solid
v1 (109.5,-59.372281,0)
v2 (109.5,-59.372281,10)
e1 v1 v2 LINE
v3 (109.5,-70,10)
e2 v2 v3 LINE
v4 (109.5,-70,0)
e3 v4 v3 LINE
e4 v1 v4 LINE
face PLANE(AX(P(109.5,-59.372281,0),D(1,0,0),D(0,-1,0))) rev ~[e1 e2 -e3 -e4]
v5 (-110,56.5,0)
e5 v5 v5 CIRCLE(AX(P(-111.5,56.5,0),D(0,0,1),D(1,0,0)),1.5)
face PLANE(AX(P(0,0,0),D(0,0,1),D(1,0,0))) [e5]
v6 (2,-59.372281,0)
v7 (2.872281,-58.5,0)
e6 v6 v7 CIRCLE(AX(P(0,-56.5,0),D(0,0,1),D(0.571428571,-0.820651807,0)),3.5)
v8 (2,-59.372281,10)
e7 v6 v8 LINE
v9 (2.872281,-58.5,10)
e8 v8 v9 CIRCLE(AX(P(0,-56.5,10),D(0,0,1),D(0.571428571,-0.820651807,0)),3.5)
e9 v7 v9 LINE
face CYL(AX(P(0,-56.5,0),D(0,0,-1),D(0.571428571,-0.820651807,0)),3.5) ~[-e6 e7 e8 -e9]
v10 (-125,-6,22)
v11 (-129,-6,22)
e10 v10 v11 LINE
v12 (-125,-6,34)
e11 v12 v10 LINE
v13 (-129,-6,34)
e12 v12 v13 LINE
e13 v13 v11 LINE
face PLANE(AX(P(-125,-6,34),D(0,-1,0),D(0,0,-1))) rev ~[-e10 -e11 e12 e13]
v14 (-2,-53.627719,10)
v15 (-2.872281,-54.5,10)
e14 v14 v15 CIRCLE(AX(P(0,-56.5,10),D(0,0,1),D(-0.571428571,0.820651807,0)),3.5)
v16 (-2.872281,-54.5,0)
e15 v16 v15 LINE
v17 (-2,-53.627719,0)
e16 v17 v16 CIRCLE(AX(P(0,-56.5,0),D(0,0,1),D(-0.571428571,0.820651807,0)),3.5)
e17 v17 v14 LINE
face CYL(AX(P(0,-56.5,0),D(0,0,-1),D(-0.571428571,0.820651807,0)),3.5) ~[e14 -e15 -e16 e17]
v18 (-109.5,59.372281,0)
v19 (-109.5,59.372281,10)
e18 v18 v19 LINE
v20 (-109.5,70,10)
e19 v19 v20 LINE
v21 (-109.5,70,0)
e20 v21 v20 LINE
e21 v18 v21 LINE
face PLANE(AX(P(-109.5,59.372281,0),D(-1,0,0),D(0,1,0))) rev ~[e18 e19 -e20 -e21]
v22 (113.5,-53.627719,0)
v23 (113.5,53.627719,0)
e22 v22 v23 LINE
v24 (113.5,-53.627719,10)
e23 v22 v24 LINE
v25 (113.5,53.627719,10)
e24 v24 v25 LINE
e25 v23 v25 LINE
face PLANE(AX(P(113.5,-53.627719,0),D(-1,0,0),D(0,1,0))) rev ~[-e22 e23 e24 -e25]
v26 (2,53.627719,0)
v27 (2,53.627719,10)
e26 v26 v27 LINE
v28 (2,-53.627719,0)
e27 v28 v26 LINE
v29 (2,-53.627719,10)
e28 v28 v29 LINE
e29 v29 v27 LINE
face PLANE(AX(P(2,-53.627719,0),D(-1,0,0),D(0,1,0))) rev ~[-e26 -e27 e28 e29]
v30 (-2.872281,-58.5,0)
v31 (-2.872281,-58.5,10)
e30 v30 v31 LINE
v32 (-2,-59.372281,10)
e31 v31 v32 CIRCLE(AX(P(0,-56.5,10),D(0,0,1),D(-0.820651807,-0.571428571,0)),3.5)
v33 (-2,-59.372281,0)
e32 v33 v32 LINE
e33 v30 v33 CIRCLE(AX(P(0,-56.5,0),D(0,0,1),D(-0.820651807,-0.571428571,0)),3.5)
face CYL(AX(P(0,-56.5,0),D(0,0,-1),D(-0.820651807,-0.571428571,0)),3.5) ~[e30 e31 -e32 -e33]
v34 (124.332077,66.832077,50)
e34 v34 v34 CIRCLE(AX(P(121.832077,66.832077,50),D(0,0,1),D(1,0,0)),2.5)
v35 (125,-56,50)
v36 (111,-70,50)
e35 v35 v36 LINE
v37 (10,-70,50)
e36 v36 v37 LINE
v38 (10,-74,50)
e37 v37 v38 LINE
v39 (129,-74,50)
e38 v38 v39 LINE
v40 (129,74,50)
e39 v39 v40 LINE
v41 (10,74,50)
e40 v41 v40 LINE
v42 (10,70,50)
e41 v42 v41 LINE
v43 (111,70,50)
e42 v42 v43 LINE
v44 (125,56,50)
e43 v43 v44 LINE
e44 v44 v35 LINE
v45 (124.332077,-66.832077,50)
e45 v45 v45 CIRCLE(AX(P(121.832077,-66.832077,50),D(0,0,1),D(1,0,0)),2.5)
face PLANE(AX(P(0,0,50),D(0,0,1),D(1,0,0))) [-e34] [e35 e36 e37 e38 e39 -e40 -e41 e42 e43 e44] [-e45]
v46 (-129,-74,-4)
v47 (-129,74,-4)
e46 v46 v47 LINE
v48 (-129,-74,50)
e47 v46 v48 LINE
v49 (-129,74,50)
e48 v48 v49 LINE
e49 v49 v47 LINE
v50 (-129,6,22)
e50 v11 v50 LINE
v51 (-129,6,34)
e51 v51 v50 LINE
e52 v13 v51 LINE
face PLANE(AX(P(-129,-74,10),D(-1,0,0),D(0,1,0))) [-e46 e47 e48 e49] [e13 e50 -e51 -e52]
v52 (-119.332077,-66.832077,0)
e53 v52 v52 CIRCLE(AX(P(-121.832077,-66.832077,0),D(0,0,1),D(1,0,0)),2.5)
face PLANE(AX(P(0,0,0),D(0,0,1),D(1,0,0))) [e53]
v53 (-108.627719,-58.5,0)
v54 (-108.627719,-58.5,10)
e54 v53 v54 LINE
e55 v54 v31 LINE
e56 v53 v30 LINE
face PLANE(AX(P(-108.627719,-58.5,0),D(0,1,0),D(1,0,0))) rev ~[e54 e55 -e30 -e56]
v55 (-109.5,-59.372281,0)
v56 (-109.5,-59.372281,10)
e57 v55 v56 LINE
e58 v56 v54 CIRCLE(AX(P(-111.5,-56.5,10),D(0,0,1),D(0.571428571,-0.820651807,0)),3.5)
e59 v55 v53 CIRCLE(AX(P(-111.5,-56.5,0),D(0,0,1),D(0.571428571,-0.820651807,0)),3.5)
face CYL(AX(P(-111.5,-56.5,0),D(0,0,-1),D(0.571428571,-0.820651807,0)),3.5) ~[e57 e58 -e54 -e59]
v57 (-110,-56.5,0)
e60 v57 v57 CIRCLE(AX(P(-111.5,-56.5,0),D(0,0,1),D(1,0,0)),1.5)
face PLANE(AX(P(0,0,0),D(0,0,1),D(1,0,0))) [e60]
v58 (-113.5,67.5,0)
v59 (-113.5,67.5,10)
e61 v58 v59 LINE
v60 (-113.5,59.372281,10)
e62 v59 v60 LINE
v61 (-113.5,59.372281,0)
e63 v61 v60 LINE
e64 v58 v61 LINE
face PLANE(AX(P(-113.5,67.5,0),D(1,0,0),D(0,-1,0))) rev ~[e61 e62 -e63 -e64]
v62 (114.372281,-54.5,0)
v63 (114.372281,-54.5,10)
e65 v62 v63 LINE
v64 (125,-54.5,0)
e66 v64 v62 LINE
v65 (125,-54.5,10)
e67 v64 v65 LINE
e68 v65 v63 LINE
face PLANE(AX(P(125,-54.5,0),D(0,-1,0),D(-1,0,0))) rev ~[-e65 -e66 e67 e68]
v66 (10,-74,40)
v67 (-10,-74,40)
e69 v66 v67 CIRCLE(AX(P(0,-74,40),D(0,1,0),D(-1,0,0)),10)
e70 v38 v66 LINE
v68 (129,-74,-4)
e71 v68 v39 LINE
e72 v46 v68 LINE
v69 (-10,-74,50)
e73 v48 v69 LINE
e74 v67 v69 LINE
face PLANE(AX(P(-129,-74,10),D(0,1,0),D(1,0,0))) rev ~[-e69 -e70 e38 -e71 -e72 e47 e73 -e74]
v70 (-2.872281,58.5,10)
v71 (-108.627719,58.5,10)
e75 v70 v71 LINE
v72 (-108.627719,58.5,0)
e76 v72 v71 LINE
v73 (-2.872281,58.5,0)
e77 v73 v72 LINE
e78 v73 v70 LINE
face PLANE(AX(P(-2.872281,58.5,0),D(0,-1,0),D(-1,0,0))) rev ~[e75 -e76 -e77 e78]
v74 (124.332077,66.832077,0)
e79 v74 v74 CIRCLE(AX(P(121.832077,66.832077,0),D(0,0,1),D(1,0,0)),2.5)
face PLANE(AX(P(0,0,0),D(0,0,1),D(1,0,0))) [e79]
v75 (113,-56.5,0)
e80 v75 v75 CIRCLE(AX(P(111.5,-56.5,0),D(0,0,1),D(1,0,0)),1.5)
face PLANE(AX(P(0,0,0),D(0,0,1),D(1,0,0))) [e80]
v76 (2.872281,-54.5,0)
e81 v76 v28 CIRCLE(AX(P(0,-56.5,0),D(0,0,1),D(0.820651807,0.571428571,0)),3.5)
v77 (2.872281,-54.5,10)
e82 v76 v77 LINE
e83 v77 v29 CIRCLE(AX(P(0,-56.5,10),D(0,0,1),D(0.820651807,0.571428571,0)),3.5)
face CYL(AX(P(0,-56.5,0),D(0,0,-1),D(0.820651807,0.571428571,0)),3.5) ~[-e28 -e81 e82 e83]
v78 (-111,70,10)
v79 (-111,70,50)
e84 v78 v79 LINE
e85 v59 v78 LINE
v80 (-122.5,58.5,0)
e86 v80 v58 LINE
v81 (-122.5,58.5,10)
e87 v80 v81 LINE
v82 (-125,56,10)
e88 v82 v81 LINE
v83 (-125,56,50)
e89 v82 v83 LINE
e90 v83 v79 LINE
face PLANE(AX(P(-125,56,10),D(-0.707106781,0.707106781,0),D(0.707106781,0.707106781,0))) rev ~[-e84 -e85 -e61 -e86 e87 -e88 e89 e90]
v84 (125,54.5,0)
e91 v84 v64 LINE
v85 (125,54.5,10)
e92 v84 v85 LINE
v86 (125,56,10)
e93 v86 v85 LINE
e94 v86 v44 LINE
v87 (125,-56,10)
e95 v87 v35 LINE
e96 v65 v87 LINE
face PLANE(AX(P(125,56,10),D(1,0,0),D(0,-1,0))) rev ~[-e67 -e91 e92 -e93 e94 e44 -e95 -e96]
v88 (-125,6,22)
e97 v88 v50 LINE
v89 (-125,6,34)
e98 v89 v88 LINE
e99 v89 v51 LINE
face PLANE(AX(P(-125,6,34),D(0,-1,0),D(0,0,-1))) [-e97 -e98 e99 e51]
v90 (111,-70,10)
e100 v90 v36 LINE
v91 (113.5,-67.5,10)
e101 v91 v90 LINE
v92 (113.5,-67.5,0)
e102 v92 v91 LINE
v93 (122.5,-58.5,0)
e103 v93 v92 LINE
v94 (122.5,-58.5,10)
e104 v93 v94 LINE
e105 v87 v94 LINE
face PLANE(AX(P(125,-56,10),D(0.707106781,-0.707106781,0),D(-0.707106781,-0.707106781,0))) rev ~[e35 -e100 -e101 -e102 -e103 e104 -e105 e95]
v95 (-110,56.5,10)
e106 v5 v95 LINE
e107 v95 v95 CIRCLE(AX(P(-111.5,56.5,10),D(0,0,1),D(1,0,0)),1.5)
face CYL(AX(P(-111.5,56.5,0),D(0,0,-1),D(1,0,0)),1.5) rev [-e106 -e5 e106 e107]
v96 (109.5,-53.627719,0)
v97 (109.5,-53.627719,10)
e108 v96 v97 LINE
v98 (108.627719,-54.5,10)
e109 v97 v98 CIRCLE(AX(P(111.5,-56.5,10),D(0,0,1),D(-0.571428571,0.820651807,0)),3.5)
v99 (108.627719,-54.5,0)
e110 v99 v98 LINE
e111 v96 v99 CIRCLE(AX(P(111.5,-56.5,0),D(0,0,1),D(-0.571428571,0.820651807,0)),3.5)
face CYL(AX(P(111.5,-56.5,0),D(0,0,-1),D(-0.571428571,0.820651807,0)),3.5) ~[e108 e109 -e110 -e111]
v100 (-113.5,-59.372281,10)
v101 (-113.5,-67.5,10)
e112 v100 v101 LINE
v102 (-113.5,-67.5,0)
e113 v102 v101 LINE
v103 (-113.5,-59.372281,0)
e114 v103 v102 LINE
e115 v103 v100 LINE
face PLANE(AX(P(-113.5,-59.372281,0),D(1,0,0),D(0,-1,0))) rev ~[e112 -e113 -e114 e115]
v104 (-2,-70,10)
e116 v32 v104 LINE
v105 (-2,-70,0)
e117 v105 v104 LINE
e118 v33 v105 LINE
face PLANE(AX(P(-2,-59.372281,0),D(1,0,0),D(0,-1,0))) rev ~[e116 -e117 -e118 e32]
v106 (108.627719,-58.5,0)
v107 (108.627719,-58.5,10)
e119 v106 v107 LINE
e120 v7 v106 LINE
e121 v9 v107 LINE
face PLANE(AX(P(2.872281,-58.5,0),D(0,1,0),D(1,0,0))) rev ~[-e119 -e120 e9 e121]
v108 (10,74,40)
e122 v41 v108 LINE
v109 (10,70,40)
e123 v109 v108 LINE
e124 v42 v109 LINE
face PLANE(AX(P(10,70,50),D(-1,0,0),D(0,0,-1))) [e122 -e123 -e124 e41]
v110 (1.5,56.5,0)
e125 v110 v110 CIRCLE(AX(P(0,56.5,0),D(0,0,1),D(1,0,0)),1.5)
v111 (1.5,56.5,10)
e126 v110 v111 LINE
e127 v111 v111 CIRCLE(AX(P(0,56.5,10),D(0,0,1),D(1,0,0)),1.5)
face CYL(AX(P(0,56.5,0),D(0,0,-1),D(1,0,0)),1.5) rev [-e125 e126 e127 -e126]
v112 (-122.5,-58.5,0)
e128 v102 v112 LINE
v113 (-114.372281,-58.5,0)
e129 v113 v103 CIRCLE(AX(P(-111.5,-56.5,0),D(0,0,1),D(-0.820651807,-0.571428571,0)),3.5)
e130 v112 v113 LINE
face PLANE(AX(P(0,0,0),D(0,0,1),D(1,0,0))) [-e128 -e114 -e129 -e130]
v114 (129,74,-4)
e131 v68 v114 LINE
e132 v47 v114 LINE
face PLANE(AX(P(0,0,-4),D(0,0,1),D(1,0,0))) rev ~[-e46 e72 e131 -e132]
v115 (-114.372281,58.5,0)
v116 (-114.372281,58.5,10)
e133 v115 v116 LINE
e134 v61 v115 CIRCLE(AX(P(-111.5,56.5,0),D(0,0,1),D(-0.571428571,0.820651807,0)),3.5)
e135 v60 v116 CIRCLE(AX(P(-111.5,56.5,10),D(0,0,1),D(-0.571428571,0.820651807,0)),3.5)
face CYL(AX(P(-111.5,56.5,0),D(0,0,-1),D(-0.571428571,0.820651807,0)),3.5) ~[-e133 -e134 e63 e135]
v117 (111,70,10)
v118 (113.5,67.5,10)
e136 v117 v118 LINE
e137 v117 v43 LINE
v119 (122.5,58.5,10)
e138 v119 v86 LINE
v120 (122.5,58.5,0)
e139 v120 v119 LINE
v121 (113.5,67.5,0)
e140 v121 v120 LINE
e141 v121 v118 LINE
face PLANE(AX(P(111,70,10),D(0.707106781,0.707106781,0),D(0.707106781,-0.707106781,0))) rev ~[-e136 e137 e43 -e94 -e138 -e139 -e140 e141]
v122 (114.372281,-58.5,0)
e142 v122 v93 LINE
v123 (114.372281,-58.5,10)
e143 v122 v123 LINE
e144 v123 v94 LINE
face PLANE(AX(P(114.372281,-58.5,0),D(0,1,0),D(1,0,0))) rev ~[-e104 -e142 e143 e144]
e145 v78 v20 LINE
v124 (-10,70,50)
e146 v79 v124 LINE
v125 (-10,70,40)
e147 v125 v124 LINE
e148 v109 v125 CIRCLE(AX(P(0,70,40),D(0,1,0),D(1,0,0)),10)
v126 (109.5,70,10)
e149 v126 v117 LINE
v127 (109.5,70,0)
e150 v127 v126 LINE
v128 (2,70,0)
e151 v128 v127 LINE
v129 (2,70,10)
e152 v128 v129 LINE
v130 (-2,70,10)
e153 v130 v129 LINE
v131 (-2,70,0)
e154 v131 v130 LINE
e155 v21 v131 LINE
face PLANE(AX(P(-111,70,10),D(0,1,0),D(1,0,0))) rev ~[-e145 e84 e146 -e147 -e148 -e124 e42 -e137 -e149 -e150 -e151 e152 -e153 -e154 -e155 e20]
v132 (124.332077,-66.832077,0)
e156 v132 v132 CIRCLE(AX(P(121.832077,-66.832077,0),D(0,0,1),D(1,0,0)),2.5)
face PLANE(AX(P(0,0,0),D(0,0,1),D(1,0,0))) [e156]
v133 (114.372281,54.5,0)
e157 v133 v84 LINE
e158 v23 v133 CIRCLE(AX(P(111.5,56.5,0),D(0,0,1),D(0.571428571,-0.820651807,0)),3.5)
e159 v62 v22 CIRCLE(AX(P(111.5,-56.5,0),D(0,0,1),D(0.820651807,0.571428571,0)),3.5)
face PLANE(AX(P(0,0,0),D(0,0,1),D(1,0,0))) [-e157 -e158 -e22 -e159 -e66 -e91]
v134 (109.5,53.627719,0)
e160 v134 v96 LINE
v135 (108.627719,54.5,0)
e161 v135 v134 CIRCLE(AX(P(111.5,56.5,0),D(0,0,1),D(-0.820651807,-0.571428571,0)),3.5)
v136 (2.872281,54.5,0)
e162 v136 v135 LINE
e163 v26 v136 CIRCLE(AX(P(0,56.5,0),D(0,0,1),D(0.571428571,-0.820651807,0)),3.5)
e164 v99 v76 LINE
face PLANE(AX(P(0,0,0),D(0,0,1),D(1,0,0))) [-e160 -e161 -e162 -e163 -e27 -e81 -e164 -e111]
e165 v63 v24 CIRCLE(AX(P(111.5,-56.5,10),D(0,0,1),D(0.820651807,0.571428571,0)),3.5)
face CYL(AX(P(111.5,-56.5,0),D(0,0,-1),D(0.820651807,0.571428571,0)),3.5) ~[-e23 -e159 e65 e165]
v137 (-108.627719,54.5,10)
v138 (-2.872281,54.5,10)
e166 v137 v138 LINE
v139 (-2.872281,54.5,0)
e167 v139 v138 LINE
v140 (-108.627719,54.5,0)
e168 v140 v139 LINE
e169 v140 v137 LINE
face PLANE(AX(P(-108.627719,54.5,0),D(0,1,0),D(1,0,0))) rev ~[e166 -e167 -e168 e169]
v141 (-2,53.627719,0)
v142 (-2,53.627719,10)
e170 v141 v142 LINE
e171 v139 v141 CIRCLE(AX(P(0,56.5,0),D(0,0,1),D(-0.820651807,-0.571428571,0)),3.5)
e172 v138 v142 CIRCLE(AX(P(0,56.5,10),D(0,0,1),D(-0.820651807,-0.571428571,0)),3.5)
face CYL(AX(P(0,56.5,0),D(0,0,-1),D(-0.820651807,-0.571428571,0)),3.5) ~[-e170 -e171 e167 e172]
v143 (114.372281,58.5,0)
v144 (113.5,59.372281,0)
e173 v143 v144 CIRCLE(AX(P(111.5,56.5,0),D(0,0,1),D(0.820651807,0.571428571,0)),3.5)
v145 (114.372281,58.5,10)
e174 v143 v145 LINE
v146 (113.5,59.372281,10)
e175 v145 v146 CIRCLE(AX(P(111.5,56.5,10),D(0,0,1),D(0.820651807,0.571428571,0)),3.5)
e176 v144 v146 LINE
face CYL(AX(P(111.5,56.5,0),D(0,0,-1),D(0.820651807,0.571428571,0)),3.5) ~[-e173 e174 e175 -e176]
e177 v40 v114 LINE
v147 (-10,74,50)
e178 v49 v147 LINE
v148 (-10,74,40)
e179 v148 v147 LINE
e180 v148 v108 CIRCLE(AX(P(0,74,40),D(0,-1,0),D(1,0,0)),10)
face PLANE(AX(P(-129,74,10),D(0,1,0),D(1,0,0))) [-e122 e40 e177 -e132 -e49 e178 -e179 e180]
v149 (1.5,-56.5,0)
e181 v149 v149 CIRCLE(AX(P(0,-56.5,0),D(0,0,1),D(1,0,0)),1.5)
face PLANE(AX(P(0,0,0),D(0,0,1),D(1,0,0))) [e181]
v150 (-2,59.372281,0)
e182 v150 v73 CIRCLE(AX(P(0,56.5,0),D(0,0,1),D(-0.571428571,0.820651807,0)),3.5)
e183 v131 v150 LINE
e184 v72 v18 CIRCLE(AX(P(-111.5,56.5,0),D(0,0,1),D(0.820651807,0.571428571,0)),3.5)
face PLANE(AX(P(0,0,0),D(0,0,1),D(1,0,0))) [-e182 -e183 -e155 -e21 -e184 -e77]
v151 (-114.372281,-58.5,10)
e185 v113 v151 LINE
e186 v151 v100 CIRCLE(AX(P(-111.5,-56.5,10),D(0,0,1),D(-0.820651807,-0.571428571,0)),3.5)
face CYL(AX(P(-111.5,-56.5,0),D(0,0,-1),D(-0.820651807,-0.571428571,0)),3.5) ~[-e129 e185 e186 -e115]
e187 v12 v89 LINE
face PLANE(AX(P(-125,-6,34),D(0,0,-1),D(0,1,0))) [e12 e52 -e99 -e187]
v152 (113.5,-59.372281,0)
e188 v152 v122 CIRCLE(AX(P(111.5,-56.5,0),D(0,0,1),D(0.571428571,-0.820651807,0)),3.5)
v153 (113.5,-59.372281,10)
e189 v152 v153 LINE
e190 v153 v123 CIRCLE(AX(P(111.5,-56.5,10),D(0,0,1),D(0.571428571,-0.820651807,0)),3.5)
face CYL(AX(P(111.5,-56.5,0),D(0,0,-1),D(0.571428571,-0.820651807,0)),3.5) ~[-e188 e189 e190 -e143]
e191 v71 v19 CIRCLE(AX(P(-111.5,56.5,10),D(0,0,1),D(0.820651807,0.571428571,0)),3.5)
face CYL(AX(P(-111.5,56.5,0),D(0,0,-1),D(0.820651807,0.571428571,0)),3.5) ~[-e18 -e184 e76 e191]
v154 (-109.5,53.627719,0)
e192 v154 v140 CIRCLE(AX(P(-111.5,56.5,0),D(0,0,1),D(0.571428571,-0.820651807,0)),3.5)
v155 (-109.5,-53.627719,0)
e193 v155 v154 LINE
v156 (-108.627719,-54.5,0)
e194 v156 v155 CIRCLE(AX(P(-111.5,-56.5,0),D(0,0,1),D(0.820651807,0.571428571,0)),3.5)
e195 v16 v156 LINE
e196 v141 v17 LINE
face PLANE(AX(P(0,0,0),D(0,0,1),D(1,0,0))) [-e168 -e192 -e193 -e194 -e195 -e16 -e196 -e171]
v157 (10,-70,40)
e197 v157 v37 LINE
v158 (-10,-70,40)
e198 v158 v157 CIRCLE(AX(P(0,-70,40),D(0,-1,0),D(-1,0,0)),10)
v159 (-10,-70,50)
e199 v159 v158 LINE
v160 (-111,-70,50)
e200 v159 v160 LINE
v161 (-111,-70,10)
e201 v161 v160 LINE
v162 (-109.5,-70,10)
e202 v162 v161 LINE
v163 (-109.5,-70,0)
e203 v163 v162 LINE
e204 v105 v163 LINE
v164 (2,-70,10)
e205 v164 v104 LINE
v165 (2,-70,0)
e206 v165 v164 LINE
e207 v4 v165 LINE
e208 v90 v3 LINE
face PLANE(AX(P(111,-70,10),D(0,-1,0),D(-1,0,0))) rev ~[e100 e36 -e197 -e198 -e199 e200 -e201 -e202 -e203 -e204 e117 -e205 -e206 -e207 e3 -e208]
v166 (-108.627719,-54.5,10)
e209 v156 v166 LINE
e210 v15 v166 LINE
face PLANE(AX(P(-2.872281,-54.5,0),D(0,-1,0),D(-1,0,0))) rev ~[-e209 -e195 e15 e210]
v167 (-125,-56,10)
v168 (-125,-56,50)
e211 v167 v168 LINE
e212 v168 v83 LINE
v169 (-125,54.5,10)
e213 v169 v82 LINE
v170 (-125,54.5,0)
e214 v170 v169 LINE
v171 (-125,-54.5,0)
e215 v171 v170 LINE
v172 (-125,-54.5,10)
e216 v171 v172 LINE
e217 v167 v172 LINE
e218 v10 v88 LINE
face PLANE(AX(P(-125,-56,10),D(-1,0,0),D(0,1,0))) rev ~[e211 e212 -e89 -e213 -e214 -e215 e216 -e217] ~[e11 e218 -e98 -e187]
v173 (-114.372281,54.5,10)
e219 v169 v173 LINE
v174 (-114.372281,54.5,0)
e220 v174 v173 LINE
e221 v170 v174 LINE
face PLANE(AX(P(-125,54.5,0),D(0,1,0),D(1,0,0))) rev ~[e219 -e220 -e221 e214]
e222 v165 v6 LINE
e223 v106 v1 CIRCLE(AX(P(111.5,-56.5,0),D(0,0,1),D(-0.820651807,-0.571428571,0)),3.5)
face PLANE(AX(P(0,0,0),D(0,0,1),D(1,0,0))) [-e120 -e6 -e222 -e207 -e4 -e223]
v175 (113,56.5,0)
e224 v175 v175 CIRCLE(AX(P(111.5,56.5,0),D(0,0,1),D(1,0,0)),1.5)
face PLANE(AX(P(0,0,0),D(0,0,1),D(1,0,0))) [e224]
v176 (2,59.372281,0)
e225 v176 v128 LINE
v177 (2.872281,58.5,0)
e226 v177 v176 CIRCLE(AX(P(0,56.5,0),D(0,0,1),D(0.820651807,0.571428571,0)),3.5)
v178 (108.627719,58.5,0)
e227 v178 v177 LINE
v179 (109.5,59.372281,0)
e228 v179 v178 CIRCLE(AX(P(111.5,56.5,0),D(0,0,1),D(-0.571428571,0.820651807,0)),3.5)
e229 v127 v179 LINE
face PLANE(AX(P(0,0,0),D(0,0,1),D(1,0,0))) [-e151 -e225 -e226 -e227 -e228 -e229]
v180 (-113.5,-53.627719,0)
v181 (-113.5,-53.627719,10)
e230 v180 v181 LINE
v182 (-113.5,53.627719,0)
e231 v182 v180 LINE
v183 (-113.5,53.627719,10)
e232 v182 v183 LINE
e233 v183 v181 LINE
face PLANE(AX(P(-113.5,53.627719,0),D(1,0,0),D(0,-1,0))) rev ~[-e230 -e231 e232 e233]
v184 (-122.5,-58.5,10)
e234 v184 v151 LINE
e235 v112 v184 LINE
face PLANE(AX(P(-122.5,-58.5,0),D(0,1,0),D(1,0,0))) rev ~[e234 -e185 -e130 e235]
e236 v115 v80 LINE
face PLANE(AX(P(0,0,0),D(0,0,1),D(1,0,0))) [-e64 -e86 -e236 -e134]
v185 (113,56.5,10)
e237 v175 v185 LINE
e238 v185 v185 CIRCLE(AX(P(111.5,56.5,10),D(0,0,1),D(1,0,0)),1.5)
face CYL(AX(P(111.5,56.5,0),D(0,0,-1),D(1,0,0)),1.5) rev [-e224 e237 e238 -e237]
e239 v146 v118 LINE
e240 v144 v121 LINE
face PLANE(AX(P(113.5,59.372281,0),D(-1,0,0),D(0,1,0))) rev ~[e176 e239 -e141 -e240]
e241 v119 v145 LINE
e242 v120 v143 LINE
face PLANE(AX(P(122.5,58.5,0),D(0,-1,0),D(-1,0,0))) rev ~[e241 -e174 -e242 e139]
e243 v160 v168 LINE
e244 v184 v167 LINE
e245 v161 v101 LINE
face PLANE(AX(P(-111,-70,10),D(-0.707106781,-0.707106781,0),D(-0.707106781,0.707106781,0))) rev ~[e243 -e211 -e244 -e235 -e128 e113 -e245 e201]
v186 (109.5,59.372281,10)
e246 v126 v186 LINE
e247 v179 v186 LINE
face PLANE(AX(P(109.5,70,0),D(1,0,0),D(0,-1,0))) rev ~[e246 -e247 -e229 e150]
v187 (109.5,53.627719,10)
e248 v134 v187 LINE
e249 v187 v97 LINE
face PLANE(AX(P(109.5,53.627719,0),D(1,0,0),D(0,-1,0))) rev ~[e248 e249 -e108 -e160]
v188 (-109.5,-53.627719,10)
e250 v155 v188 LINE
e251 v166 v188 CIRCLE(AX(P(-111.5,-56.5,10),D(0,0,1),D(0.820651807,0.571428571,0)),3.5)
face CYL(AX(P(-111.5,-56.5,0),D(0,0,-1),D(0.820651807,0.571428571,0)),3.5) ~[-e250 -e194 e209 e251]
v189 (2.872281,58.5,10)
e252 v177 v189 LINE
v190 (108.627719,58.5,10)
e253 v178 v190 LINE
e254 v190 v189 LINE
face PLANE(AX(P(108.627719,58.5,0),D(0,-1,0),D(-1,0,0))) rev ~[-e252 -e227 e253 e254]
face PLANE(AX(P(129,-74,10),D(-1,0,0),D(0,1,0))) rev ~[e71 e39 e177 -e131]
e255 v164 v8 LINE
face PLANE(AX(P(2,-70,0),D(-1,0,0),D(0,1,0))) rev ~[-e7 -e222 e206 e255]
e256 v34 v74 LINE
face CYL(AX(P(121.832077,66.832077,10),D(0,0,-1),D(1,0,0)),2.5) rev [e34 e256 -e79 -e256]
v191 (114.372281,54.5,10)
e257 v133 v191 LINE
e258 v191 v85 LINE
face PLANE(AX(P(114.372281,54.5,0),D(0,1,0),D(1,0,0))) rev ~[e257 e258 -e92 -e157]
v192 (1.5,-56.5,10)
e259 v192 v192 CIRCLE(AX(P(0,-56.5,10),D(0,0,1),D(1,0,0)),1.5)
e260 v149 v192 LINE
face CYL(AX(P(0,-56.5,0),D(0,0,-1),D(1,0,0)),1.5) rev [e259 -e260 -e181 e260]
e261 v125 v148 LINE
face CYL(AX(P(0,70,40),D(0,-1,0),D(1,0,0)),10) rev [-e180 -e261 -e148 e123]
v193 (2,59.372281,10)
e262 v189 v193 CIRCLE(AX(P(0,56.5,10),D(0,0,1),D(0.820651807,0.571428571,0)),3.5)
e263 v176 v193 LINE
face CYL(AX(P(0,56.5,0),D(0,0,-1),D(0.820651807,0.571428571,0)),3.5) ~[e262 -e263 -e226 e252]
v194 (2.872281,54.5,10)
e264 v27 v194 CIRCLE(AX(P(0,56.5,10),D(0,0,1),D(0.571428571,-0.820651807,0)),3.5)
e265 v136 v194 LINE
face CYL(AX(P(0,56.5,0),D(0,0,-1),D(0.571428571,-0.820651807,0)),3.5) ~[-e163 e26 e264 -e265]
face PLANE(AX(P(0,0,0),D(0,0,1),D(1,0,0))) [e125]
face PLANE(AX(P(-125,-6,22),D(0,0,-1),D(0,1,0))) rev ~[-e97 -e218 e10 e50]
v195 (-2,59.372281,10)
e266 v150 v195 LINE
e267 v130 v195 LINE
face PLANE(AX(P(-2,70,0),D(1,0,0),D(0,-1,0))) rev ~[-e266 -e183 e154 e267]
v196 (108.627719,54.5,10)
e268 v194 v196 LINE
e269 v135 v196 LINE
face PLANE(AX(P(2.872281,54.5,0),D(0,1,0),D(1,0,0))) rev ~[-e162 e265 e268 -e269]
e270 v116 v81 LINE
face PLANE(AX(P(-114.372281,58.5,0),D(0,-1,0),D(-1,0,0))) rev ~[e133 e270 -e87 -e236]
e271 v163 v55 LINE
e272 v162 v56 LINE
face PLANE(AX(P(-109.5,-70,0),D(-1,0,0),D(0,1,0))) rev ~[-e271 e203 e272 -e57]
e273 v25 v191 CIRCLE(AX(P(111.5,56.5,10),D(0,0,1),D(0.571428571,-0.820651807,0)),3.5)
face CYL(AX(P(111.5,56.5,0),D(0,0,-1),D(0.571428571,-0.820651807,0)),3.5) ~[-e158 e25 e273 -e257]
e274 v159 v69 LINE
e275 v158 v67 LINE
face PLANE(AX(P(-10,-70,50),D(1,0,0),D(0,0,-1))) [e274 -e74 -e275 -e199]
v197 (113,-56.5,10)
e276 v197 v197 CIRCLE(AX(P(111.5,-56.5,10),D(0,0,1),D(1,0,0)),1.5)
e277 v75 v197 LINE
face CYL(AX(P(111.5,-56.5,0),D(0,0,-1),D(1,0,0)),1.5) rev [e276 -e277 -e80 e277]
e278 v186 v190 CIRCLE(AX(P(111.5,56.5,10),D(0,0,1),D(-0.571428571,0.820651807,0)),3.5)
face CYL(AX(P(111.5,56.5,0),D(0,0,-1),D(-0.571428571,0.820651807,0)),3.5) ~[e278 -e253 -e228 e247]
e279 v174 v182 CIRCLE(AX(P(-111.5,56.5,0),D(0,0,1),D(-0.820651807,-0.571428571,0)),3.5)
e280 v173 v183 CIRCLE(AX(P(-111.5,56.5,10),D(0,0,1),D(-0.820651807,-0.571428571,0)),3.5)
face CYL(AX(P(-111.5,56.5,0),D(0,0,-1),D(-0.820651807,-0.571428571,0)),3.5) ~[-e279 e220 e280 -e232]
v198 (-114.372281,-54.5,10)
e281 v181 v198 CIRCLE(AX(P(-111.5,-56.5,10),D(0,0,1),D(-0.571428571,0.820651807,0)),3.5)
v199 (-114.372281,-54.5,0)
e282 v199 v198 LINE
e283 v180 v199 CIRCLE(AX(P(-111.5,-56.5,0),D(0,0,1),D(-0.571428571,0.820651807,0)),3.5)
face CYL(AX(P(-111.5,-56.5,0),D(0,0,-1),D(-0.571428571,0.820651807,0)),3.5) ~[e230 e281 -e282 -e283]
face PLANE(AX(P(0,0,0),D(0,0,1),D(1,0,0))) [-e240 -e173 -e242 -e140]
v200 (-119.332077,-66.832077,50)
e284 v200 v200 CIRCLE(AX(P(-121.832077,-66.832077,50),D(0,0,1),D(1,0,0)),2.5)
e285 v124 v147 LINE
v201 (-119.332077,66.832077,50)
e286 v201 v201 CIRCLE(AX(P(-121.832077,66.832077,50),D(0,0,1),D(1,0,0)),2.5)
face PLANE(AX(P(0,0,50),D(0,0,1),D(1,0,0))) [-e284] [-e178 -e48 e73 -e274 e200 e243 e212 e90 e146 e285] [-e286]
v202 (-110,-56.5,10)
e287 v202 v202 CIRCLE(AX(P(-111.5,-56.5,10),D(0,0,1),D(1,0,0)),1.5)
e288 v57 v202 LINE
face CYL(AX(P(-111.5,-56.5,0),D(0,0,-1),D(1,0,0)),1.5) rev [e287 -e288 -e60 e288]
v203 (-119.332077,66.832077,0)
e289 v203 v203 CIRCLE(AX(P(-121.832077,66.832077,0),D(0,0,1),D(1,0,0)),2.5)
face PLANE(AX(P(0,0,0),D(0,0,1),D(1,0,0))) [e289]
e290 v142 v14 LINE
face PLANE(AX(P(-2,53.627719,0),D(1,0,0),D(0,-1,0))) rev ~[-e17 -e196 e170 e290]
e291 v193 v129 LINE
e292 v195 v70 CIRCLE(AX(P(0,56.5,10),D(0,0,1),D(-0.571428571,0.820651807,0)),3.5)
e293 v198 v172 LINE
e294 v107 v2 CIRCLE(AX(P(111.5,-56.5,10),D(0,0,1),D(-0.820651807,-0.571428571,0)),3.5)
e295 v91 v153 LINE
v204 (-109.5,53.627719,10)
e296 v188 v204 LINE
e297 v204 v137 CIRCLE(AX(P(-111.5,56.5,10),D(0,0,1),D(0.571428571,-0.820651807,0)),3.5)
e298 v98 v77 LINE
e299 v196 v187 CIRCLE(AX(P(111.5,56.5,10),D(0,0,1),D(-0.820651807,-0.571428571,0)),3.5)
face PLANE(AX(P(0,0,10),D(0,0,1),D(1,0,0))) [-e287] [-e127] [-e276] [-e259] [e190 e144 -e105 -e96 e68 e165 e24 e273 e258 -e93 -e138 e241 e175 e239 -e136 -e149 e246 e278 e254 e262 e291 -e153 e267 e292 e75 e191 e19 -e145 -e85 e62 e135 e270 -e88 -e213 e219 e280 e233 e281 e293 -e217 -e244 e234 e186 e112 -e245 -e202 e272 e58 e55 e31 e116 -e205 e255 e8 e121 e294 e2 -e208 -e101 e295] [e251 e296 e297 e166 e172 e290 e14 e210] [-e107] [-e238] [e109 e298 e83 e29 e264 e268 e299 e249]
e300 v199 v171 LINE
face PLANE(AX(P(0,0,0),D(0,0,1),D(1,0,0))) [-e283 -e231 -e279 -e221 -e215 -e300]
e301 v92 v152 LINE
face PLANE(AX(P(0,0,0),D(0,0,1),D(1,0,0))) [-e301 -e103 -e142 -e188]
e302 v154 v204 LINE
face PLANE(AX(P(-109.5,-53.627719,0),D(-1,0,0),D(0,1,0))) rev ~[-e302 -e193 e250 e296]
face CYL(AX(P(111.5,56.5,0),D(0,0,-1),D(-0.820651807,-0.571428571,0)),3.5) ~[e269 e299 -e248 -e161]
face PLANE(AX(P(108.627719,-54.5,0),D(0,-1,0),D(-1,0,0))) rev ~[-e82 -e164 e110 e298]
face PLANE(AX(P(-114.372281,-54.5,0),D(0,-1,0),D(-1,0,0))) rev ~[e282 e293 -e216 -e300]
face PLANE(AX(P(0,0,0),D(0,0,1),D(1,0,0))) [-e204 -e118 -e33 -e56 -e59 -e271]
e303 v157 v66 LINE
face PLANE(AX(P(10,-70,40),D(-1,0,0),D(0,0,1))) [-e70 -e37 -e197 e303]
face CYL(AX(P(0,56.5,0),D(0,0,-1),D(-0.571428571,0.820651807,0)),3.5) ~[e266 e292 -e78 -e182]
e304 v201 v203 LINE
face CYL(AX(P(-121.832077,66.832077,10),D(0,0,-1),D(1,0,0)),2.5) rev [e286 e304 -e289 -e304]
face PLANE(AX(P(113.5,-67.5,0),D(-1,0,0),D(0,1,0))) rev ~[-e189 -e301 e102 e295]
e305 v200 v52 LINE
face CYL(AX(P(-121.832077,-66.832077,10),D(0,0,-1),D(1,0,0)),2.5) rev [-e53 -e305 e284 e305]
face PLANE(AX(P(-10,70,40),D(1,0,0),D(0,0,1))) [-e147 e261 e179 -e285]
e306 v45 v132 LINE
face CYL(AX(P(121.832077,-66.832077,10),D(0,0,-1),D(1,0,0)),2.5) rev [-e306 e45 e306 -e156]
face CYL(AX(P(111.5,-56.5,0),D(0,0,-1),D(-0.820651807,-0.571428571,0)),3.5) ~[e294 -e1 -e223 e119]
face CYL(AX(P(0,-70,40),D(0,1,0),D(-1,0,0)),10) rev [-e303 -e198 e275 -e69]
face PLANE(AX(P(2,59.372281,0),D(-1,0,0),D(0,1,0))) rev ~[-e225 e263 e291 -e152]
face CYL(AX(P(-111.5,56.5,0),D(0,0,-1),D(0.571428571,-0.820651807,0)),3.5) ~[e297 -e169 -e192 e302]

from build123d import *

# Parameters (mm, degrees)
ESQUISSE1_W             = 258
ESQUISSE1_H             = 148
ESQUISSE1_R             = 2.5
ESQUISSE1_R_2           = 1.5
BOSS_EXTRU_2_DEPTH      = 10
ESQUISSE1_5_W           = 258
ESQUISSE1_5_H           = 148
BOSS_EXTRU_3_DEPTH      = 4
ESQUISSE2_W             = 258
ESQUISSE2_H             = 148
ESQUISSE2_R             = 2.5
BOSS_EXTRU_5_DEPTH      = 40
ENL_V_MAT_EXTRU_1_REACH = 271.243
ESQUISSE4_W             = 12
ESQUISSE4_H             = 12
ENL_V_MAT_EXTRU_2_REACH = 201.692
ENL_V_MAT_EXTRU_3_REACH = 201.692


with BuildPart() as part:
    # Esquisse1 → Boss.-Extru.2 (new body)
    with BuildSketch(Plane.XY):
        Rectangle(ESQUISSE1_W, ESQUISSE1_H)
        with BuildLine():
            Line((-109.5, 59.372281323), (-109.5, 70))
            Line((-109.5, 70), (-2, 70))
            Line((-2, 70), (-2, 59.372281323))
            ThreePointArc((-2, 59.372281323), (-2.474873734, 58.974873734), (-2.872281323, 58.5))
            Line((-2.872281323, 58.5), (-108.627718677, 58.5))
            ThreePointArc((-108.627718677, 58.5), (-109.025126266, 58.974873734), (-109.5, 59.372281323))
        make_face(mode=Mode.SUBTRACT)
        with BuildLine():
            Line((-113.5, 67.5), (-113.5, 59.372281323))
            ThreePointArc((-113.5, 59.372281323), (-113.974873734, 58.974873734), (-114.372281323, 58.5))
            Line((-114.372281323, 58.5), (-122.5, 58.5))
            Line((-122.5, 58.5), (-113.5, 67.5))
        make_face(mode=Mode.SUBTRACT)
        with Locations((-121.8320772, -66.8320772)):
            Circle(ESQUISSE1_R, mode=Mode.SUBTRACT)
        with Locations((121.8320772, -66.8320772)):
            Circle(ESQUISSE1_R, mode=Mode.SUBTRACT)
        with Locations((-121.8320772, 66.8320772)):
            Circle(ESQUISSE1_R, mode=Mode.SUBTRACT)
        with Locations((121.8320772, 66.8320772)):
            Circle(ESQUISSE1_R, mode=Mode.SUBTRACT)
        with BuildLine():
            Line((-125, -54.5), (-125, 54.5))
            Line((-125, 54.5), (-114.372281323, 54.5))
            ThreePointArc((-114.372281323, 54.5), (-113.974873734, 54.025126266), (-113.5, 53.627718677))
            Line((-113.5, 53.627718677), (-113.5, -53.627718677))
            ThreePointArc((-113.5, -53.627718677), (-113.974873734, -54.025126266), (-114.372281323, -54.5))
            Line((-114.372281323, -54.5), (-125, -54.5))
        make_face(mode=Mode.SUBTRACT)
        with BuildLine():
            Line((-113.5, -67.5), (-122.5, -58.5))
            Line((-122.5, -58.5), (-114.372281323, -58.5))
            ThreePointArc((-114.372281323, -58.5), (-113.974873734, -58.974873734), (-113.5, -59.372281323))
            Line((-113.5, -59.372281323), (-113.5, -67.5))
        make_face(mode=Mode.SUBTRACT)
        with BuildLine():
            Line((-2, -70), (-109.5, -70))
            Line((-109.5, -70), (-109.5, -59.372281323))
            ThreePointArc((-109.5, -59.372281323), (-109.025126266, -58.974873734), (-108.627718677, -58.5))
            Line((-108.627718677, -58.5), (-2.872281323, -58.5))
            ThreePointArc((-2.872281323, -58.5), (-2.474873734, -58.974873734), (-2, -59.372281323))
            Line((-2, -59.372281323), (-2, -70))
        make_face(mode=Mode.SUBTRACT)
        with BuildLine():
            Line((109.5, -70), (2, -70))
            Line((2, -70), (2, -59.372281323))
            ThreePointArc((2, -59.372281323), (2.474873734, -58.974873734), (2.872281323, -58.5))
            Line((2.872281323, -58.5), (108.627718677, -58.5))
            ThreePointArc((108.627718677, -58.5), (109.025126266, -58.974873734), (109.5, -59.372281323))
            Line((109.5, -59.372281323), (109.5, -70))
        make_face(mode=Mode.SUBTRACT)
        with BuildLine():
            Line((122.5, -58.5), (113.5, -67.5))
            Line((113.5, -67.5), (113.5, -59.372281323))
            ThreePointArc((113.5, -59.372281323), (113.974873734, -58.974873734), (114.372281323, -58.5))
            Line((114.372281323, -58.5), (122.5, -58.5))
        make_face(mode=Mode.SUBTRACT)
        with BuildLine():
            Line((125, 54.5), (125, -54.5))
            Line((125, -54.5), (114.372281323, -54.5))
            ThreePointArc((114.372281323, -54.5), (113.974873734, -54.025126266), (113.5, -53.627718677))
            Line((113.5, -53.627718677), (113.5, 53.627718677))
            ThreePointArc((113.5, 53.627718677), (113.974873734, 54.025126266), (114.372281323, 54.5))
            Line((114.372281323, 54.5), (125, 54.5))
        make_face(mode=Mode.SUBTRACT)
        with BuildLine():
            Line((113.5, 67.5), (122.5, 58.5))
            Line((122.5, 58.5), (114.372281323, 58.5))
            ThreePointArc((114.372281323, 58.5), (113.974873734, 58.974873734), (113.5, 59.372281323))
            Line((113.5, 59.372281323), (113.5, 67.5))
        make_face(mode=Mode.SUBTRACT)
        with BuildLine():
            Line((2, 70), (109.5, 70))
            Line((109.5, 70), (109.5, 59.372281323))
            ThreePointArc((109.5, 59.372281323), (109.025126266, 58.974873734), (108.627718677, 58.5))
            Line((108.627718677, 58.5), (2.872281323, 58.5))
            ThreePointArc((2.872281323, 58.5), (2.474873734, 58.974873734), (2, 59.372281323))
            Line((2, 59.372281323), (2, 70))
        make_face(mode=Mode.SUBTRACT)
        with BuildLine():
            ThreePointArc((-109.5, 53.627718677), (-109.025126266, 54.025126266), (-108.627718677, 54.5))
            Line((-108.627718677, 54.5), (-2.872281323, 54.5))
            ThreePointArc((-2.872281323, 54.5), (-2.474873734, 54.025126266), (-2, 53.627718677))
            Line((-2, 53.627718677), (-2, -53.627718677))
            ThreePointArc((-2, -53.627718677), (-2.474873734, -54.025126266), (-2.872281323, -54.5))
            Line((-2.872281323, -54.5), (-108.627718677, -54.5))
            ThreePointArc((-108.627718677, -54.5), (-109.025126266, -54.025126266), (-109.5, -53.627718677))
            Line((-109.5, -53.627718677), (-109.5, 53.627718677))
        make_face(mode=Mode.SUBTRACT)
        with Locations((-111.5, 56.5)):
            Circle(ESQUISSE1_R_2, mode=Mode.SUBTRACT)
        with Locations((-111.5, -56.5)):
            Circle(ESQUISSE1_R_2, mode=Mode.SUBTRACT)
        with BuildLine():
            ThreePointArc((2.872281323, -54.5), (2.474873734, -54.025126266), (2, -53.627718677))
            Line((2, -53.627718677), (2, 53.627718677))
            ThreePointArc((2, 53.627718677), (2.474873734, 54.025126266), (2.872281323, 54.5))
            Line((2.872281323, 54.5), (108.627718677, 54.5))
            ThreePointArc((108.627718677, 54.5), (109.025126266, 54.025126266), (109.5, 53.627718677))
            Line((109.5, 53.627718677), (109.5, -53.627718677))
            ThreePointArc((109.5, -53.627718677), (109.025126266, -54.025126266), (108.627718677, -54.5))
            Line((108.627718677, -54.5), (2.872281323, -54.5))
        make_face(mode=Mode.SUBTRACT)
        with Locations((0, -56.5)):
            Circle(ESQUISSE1_R_2, mode=Mode.SUBTRACT)
        with Locations((111.5, -56.5)):
            Circle(ESQUISSE1_R_2, mode=Mode.SUBTRACT)
        with Locations((111.5, 56.5)):
            Circle(ESQUISSE1_R_2, mode=Mode.SUBTRACT)
        with Locations((0, 56.5)):
            Circle(ESQUISSE1_R_2, mode=Mode.SUBTRACT)
    extrude(amount=BOSS_EXTRU_2_DEPTH)

    # Esquisse1<5> → Boss.-Extru.3 (add)
    with BuildSketch(Plane.XY):
        Rectangle(ESQUISSE1_5_W, ESQUISSE1_5_H)
    extrude(amount=-BOSS_EXTRU_3_DEPTH)

    # Esquisse2 → Boss.-Extru.5 (add)
    with BuildSketch(Plane.XY.offset(10)):
        Rectangle(ESQUISSE2_W, ESQUISSE2_H)
        with Locations((-121.8320772, 66.8320772)):
            Circle(ESQUISSE2_R, mode=Mode.SUBTRACT)
        with Locations((-121.8320772, -66.8320772)):
            Circle(ESQUISSE2_R, mode=Mode.SUBTRACT)
        with Locations((121.8320772, -66.8320772)):
            Circle(ESQUISSE2_R, mode=Mode.SUBTRACT)
        with Locations((121.8320772, 66.8320772)):
            Circle(ESQUISSE2_R, mode=Mode.SUBTRACT)
        Polygon((-111, 70), (111, 70), (125, 56), (125, -56), (111, -70), (-111, -70), (-125, -56), (-125, 56), align=None, mode=Mode.SUBTRACT)
    extrude(amount=BOSS_EXTRU_5_DEPTH)

    # Esquisse4 → Enlèv. mat.-Extru.1 (cut, up to next)
    with BuildSketch(Plane(origin=(-125, 0, 0), x_dir=(0, 0, -1), z_dir=(1, 0, 0)), mode=Mode.PRIVATE) as enl_v_mat_extru_1_sk1:
        with Locations((-28, 0)):
            Rectangle(ESQUISSE4_W, ESQUISSE4_H)
    enl_v_mat_extru_1_tool1 = extrude(enl_v_mat_extru_1_sk1.sketch, amount=-ENL_V_MAT_EXTRU_1_REACH, mode=Mode.PRIVATE) & part.part
    add(enl_v_mat_extru_1_tool1.solids().sort_by_distance((-125, 0, 28))[0], mode=Mode.SUBTRACT)

    # Esquisse6 → Enlèv. mat.-Extru.2 (cut, up to next)
    with BuildSketch(Plane(origin=(0, -70, 0), x_dir=(1, 0, 0), z_dir=(0, 1, 0)), mode=Mode.PRIVATE) as enl_v_mat_extru_2_sk1:
        with BuildLine():
            Line((10, -40), (10, -50))
            Line((10, -50), (-10, -50))
            Line((-10, -50), (-10, -40))
            ThreePointArc((-10, -40), (0, -30), (10, -40))
        make_face()
    enl_v_mat_extru_2_tool1 = extrude(enl_v_mat_extru_2_sk1.sketch, amount=-ENL_V_MAT_EXTRU_2_REACH, mode=Mode.PRIVATE) & part.part
    add(enl_v_mat_extru_2_tool1.solids().sort_by_distance((0, -70, 40.933499))[0], mode=Mode.SUBTRACT)

    # Esquisse9 → Enlèv. mat.-Extru.3 (cut, up to next)
    with BuildSketch(Plane.XZ.offset(-70), mode=Mode.PRIVATE) as enl_v_mat_extru_3_sk1:
        with BuildLine():
            Line((-10, 40), (-10, 50))
            Line((-10, 50), (10, 50))
            Line((10, 50), (10, 40))
            ThreePointArc((10, 40), (0, 30), (-10, 40))
        make_face()
    enl_v_mat_extru_3_tool1 = extrude(enl_v_mat_extru_3_sk1.sketch, amount=-ENL_V_MAT_EXTRU_3_REACH, mode=Mode.PRIVATE) & part.part
    add(enl_v_mat_extru_3_tool1.solids().sort_by_distance((0, 70, 40.933499))[0], mode=Mode.SUBTRACT)


solid = part.part
